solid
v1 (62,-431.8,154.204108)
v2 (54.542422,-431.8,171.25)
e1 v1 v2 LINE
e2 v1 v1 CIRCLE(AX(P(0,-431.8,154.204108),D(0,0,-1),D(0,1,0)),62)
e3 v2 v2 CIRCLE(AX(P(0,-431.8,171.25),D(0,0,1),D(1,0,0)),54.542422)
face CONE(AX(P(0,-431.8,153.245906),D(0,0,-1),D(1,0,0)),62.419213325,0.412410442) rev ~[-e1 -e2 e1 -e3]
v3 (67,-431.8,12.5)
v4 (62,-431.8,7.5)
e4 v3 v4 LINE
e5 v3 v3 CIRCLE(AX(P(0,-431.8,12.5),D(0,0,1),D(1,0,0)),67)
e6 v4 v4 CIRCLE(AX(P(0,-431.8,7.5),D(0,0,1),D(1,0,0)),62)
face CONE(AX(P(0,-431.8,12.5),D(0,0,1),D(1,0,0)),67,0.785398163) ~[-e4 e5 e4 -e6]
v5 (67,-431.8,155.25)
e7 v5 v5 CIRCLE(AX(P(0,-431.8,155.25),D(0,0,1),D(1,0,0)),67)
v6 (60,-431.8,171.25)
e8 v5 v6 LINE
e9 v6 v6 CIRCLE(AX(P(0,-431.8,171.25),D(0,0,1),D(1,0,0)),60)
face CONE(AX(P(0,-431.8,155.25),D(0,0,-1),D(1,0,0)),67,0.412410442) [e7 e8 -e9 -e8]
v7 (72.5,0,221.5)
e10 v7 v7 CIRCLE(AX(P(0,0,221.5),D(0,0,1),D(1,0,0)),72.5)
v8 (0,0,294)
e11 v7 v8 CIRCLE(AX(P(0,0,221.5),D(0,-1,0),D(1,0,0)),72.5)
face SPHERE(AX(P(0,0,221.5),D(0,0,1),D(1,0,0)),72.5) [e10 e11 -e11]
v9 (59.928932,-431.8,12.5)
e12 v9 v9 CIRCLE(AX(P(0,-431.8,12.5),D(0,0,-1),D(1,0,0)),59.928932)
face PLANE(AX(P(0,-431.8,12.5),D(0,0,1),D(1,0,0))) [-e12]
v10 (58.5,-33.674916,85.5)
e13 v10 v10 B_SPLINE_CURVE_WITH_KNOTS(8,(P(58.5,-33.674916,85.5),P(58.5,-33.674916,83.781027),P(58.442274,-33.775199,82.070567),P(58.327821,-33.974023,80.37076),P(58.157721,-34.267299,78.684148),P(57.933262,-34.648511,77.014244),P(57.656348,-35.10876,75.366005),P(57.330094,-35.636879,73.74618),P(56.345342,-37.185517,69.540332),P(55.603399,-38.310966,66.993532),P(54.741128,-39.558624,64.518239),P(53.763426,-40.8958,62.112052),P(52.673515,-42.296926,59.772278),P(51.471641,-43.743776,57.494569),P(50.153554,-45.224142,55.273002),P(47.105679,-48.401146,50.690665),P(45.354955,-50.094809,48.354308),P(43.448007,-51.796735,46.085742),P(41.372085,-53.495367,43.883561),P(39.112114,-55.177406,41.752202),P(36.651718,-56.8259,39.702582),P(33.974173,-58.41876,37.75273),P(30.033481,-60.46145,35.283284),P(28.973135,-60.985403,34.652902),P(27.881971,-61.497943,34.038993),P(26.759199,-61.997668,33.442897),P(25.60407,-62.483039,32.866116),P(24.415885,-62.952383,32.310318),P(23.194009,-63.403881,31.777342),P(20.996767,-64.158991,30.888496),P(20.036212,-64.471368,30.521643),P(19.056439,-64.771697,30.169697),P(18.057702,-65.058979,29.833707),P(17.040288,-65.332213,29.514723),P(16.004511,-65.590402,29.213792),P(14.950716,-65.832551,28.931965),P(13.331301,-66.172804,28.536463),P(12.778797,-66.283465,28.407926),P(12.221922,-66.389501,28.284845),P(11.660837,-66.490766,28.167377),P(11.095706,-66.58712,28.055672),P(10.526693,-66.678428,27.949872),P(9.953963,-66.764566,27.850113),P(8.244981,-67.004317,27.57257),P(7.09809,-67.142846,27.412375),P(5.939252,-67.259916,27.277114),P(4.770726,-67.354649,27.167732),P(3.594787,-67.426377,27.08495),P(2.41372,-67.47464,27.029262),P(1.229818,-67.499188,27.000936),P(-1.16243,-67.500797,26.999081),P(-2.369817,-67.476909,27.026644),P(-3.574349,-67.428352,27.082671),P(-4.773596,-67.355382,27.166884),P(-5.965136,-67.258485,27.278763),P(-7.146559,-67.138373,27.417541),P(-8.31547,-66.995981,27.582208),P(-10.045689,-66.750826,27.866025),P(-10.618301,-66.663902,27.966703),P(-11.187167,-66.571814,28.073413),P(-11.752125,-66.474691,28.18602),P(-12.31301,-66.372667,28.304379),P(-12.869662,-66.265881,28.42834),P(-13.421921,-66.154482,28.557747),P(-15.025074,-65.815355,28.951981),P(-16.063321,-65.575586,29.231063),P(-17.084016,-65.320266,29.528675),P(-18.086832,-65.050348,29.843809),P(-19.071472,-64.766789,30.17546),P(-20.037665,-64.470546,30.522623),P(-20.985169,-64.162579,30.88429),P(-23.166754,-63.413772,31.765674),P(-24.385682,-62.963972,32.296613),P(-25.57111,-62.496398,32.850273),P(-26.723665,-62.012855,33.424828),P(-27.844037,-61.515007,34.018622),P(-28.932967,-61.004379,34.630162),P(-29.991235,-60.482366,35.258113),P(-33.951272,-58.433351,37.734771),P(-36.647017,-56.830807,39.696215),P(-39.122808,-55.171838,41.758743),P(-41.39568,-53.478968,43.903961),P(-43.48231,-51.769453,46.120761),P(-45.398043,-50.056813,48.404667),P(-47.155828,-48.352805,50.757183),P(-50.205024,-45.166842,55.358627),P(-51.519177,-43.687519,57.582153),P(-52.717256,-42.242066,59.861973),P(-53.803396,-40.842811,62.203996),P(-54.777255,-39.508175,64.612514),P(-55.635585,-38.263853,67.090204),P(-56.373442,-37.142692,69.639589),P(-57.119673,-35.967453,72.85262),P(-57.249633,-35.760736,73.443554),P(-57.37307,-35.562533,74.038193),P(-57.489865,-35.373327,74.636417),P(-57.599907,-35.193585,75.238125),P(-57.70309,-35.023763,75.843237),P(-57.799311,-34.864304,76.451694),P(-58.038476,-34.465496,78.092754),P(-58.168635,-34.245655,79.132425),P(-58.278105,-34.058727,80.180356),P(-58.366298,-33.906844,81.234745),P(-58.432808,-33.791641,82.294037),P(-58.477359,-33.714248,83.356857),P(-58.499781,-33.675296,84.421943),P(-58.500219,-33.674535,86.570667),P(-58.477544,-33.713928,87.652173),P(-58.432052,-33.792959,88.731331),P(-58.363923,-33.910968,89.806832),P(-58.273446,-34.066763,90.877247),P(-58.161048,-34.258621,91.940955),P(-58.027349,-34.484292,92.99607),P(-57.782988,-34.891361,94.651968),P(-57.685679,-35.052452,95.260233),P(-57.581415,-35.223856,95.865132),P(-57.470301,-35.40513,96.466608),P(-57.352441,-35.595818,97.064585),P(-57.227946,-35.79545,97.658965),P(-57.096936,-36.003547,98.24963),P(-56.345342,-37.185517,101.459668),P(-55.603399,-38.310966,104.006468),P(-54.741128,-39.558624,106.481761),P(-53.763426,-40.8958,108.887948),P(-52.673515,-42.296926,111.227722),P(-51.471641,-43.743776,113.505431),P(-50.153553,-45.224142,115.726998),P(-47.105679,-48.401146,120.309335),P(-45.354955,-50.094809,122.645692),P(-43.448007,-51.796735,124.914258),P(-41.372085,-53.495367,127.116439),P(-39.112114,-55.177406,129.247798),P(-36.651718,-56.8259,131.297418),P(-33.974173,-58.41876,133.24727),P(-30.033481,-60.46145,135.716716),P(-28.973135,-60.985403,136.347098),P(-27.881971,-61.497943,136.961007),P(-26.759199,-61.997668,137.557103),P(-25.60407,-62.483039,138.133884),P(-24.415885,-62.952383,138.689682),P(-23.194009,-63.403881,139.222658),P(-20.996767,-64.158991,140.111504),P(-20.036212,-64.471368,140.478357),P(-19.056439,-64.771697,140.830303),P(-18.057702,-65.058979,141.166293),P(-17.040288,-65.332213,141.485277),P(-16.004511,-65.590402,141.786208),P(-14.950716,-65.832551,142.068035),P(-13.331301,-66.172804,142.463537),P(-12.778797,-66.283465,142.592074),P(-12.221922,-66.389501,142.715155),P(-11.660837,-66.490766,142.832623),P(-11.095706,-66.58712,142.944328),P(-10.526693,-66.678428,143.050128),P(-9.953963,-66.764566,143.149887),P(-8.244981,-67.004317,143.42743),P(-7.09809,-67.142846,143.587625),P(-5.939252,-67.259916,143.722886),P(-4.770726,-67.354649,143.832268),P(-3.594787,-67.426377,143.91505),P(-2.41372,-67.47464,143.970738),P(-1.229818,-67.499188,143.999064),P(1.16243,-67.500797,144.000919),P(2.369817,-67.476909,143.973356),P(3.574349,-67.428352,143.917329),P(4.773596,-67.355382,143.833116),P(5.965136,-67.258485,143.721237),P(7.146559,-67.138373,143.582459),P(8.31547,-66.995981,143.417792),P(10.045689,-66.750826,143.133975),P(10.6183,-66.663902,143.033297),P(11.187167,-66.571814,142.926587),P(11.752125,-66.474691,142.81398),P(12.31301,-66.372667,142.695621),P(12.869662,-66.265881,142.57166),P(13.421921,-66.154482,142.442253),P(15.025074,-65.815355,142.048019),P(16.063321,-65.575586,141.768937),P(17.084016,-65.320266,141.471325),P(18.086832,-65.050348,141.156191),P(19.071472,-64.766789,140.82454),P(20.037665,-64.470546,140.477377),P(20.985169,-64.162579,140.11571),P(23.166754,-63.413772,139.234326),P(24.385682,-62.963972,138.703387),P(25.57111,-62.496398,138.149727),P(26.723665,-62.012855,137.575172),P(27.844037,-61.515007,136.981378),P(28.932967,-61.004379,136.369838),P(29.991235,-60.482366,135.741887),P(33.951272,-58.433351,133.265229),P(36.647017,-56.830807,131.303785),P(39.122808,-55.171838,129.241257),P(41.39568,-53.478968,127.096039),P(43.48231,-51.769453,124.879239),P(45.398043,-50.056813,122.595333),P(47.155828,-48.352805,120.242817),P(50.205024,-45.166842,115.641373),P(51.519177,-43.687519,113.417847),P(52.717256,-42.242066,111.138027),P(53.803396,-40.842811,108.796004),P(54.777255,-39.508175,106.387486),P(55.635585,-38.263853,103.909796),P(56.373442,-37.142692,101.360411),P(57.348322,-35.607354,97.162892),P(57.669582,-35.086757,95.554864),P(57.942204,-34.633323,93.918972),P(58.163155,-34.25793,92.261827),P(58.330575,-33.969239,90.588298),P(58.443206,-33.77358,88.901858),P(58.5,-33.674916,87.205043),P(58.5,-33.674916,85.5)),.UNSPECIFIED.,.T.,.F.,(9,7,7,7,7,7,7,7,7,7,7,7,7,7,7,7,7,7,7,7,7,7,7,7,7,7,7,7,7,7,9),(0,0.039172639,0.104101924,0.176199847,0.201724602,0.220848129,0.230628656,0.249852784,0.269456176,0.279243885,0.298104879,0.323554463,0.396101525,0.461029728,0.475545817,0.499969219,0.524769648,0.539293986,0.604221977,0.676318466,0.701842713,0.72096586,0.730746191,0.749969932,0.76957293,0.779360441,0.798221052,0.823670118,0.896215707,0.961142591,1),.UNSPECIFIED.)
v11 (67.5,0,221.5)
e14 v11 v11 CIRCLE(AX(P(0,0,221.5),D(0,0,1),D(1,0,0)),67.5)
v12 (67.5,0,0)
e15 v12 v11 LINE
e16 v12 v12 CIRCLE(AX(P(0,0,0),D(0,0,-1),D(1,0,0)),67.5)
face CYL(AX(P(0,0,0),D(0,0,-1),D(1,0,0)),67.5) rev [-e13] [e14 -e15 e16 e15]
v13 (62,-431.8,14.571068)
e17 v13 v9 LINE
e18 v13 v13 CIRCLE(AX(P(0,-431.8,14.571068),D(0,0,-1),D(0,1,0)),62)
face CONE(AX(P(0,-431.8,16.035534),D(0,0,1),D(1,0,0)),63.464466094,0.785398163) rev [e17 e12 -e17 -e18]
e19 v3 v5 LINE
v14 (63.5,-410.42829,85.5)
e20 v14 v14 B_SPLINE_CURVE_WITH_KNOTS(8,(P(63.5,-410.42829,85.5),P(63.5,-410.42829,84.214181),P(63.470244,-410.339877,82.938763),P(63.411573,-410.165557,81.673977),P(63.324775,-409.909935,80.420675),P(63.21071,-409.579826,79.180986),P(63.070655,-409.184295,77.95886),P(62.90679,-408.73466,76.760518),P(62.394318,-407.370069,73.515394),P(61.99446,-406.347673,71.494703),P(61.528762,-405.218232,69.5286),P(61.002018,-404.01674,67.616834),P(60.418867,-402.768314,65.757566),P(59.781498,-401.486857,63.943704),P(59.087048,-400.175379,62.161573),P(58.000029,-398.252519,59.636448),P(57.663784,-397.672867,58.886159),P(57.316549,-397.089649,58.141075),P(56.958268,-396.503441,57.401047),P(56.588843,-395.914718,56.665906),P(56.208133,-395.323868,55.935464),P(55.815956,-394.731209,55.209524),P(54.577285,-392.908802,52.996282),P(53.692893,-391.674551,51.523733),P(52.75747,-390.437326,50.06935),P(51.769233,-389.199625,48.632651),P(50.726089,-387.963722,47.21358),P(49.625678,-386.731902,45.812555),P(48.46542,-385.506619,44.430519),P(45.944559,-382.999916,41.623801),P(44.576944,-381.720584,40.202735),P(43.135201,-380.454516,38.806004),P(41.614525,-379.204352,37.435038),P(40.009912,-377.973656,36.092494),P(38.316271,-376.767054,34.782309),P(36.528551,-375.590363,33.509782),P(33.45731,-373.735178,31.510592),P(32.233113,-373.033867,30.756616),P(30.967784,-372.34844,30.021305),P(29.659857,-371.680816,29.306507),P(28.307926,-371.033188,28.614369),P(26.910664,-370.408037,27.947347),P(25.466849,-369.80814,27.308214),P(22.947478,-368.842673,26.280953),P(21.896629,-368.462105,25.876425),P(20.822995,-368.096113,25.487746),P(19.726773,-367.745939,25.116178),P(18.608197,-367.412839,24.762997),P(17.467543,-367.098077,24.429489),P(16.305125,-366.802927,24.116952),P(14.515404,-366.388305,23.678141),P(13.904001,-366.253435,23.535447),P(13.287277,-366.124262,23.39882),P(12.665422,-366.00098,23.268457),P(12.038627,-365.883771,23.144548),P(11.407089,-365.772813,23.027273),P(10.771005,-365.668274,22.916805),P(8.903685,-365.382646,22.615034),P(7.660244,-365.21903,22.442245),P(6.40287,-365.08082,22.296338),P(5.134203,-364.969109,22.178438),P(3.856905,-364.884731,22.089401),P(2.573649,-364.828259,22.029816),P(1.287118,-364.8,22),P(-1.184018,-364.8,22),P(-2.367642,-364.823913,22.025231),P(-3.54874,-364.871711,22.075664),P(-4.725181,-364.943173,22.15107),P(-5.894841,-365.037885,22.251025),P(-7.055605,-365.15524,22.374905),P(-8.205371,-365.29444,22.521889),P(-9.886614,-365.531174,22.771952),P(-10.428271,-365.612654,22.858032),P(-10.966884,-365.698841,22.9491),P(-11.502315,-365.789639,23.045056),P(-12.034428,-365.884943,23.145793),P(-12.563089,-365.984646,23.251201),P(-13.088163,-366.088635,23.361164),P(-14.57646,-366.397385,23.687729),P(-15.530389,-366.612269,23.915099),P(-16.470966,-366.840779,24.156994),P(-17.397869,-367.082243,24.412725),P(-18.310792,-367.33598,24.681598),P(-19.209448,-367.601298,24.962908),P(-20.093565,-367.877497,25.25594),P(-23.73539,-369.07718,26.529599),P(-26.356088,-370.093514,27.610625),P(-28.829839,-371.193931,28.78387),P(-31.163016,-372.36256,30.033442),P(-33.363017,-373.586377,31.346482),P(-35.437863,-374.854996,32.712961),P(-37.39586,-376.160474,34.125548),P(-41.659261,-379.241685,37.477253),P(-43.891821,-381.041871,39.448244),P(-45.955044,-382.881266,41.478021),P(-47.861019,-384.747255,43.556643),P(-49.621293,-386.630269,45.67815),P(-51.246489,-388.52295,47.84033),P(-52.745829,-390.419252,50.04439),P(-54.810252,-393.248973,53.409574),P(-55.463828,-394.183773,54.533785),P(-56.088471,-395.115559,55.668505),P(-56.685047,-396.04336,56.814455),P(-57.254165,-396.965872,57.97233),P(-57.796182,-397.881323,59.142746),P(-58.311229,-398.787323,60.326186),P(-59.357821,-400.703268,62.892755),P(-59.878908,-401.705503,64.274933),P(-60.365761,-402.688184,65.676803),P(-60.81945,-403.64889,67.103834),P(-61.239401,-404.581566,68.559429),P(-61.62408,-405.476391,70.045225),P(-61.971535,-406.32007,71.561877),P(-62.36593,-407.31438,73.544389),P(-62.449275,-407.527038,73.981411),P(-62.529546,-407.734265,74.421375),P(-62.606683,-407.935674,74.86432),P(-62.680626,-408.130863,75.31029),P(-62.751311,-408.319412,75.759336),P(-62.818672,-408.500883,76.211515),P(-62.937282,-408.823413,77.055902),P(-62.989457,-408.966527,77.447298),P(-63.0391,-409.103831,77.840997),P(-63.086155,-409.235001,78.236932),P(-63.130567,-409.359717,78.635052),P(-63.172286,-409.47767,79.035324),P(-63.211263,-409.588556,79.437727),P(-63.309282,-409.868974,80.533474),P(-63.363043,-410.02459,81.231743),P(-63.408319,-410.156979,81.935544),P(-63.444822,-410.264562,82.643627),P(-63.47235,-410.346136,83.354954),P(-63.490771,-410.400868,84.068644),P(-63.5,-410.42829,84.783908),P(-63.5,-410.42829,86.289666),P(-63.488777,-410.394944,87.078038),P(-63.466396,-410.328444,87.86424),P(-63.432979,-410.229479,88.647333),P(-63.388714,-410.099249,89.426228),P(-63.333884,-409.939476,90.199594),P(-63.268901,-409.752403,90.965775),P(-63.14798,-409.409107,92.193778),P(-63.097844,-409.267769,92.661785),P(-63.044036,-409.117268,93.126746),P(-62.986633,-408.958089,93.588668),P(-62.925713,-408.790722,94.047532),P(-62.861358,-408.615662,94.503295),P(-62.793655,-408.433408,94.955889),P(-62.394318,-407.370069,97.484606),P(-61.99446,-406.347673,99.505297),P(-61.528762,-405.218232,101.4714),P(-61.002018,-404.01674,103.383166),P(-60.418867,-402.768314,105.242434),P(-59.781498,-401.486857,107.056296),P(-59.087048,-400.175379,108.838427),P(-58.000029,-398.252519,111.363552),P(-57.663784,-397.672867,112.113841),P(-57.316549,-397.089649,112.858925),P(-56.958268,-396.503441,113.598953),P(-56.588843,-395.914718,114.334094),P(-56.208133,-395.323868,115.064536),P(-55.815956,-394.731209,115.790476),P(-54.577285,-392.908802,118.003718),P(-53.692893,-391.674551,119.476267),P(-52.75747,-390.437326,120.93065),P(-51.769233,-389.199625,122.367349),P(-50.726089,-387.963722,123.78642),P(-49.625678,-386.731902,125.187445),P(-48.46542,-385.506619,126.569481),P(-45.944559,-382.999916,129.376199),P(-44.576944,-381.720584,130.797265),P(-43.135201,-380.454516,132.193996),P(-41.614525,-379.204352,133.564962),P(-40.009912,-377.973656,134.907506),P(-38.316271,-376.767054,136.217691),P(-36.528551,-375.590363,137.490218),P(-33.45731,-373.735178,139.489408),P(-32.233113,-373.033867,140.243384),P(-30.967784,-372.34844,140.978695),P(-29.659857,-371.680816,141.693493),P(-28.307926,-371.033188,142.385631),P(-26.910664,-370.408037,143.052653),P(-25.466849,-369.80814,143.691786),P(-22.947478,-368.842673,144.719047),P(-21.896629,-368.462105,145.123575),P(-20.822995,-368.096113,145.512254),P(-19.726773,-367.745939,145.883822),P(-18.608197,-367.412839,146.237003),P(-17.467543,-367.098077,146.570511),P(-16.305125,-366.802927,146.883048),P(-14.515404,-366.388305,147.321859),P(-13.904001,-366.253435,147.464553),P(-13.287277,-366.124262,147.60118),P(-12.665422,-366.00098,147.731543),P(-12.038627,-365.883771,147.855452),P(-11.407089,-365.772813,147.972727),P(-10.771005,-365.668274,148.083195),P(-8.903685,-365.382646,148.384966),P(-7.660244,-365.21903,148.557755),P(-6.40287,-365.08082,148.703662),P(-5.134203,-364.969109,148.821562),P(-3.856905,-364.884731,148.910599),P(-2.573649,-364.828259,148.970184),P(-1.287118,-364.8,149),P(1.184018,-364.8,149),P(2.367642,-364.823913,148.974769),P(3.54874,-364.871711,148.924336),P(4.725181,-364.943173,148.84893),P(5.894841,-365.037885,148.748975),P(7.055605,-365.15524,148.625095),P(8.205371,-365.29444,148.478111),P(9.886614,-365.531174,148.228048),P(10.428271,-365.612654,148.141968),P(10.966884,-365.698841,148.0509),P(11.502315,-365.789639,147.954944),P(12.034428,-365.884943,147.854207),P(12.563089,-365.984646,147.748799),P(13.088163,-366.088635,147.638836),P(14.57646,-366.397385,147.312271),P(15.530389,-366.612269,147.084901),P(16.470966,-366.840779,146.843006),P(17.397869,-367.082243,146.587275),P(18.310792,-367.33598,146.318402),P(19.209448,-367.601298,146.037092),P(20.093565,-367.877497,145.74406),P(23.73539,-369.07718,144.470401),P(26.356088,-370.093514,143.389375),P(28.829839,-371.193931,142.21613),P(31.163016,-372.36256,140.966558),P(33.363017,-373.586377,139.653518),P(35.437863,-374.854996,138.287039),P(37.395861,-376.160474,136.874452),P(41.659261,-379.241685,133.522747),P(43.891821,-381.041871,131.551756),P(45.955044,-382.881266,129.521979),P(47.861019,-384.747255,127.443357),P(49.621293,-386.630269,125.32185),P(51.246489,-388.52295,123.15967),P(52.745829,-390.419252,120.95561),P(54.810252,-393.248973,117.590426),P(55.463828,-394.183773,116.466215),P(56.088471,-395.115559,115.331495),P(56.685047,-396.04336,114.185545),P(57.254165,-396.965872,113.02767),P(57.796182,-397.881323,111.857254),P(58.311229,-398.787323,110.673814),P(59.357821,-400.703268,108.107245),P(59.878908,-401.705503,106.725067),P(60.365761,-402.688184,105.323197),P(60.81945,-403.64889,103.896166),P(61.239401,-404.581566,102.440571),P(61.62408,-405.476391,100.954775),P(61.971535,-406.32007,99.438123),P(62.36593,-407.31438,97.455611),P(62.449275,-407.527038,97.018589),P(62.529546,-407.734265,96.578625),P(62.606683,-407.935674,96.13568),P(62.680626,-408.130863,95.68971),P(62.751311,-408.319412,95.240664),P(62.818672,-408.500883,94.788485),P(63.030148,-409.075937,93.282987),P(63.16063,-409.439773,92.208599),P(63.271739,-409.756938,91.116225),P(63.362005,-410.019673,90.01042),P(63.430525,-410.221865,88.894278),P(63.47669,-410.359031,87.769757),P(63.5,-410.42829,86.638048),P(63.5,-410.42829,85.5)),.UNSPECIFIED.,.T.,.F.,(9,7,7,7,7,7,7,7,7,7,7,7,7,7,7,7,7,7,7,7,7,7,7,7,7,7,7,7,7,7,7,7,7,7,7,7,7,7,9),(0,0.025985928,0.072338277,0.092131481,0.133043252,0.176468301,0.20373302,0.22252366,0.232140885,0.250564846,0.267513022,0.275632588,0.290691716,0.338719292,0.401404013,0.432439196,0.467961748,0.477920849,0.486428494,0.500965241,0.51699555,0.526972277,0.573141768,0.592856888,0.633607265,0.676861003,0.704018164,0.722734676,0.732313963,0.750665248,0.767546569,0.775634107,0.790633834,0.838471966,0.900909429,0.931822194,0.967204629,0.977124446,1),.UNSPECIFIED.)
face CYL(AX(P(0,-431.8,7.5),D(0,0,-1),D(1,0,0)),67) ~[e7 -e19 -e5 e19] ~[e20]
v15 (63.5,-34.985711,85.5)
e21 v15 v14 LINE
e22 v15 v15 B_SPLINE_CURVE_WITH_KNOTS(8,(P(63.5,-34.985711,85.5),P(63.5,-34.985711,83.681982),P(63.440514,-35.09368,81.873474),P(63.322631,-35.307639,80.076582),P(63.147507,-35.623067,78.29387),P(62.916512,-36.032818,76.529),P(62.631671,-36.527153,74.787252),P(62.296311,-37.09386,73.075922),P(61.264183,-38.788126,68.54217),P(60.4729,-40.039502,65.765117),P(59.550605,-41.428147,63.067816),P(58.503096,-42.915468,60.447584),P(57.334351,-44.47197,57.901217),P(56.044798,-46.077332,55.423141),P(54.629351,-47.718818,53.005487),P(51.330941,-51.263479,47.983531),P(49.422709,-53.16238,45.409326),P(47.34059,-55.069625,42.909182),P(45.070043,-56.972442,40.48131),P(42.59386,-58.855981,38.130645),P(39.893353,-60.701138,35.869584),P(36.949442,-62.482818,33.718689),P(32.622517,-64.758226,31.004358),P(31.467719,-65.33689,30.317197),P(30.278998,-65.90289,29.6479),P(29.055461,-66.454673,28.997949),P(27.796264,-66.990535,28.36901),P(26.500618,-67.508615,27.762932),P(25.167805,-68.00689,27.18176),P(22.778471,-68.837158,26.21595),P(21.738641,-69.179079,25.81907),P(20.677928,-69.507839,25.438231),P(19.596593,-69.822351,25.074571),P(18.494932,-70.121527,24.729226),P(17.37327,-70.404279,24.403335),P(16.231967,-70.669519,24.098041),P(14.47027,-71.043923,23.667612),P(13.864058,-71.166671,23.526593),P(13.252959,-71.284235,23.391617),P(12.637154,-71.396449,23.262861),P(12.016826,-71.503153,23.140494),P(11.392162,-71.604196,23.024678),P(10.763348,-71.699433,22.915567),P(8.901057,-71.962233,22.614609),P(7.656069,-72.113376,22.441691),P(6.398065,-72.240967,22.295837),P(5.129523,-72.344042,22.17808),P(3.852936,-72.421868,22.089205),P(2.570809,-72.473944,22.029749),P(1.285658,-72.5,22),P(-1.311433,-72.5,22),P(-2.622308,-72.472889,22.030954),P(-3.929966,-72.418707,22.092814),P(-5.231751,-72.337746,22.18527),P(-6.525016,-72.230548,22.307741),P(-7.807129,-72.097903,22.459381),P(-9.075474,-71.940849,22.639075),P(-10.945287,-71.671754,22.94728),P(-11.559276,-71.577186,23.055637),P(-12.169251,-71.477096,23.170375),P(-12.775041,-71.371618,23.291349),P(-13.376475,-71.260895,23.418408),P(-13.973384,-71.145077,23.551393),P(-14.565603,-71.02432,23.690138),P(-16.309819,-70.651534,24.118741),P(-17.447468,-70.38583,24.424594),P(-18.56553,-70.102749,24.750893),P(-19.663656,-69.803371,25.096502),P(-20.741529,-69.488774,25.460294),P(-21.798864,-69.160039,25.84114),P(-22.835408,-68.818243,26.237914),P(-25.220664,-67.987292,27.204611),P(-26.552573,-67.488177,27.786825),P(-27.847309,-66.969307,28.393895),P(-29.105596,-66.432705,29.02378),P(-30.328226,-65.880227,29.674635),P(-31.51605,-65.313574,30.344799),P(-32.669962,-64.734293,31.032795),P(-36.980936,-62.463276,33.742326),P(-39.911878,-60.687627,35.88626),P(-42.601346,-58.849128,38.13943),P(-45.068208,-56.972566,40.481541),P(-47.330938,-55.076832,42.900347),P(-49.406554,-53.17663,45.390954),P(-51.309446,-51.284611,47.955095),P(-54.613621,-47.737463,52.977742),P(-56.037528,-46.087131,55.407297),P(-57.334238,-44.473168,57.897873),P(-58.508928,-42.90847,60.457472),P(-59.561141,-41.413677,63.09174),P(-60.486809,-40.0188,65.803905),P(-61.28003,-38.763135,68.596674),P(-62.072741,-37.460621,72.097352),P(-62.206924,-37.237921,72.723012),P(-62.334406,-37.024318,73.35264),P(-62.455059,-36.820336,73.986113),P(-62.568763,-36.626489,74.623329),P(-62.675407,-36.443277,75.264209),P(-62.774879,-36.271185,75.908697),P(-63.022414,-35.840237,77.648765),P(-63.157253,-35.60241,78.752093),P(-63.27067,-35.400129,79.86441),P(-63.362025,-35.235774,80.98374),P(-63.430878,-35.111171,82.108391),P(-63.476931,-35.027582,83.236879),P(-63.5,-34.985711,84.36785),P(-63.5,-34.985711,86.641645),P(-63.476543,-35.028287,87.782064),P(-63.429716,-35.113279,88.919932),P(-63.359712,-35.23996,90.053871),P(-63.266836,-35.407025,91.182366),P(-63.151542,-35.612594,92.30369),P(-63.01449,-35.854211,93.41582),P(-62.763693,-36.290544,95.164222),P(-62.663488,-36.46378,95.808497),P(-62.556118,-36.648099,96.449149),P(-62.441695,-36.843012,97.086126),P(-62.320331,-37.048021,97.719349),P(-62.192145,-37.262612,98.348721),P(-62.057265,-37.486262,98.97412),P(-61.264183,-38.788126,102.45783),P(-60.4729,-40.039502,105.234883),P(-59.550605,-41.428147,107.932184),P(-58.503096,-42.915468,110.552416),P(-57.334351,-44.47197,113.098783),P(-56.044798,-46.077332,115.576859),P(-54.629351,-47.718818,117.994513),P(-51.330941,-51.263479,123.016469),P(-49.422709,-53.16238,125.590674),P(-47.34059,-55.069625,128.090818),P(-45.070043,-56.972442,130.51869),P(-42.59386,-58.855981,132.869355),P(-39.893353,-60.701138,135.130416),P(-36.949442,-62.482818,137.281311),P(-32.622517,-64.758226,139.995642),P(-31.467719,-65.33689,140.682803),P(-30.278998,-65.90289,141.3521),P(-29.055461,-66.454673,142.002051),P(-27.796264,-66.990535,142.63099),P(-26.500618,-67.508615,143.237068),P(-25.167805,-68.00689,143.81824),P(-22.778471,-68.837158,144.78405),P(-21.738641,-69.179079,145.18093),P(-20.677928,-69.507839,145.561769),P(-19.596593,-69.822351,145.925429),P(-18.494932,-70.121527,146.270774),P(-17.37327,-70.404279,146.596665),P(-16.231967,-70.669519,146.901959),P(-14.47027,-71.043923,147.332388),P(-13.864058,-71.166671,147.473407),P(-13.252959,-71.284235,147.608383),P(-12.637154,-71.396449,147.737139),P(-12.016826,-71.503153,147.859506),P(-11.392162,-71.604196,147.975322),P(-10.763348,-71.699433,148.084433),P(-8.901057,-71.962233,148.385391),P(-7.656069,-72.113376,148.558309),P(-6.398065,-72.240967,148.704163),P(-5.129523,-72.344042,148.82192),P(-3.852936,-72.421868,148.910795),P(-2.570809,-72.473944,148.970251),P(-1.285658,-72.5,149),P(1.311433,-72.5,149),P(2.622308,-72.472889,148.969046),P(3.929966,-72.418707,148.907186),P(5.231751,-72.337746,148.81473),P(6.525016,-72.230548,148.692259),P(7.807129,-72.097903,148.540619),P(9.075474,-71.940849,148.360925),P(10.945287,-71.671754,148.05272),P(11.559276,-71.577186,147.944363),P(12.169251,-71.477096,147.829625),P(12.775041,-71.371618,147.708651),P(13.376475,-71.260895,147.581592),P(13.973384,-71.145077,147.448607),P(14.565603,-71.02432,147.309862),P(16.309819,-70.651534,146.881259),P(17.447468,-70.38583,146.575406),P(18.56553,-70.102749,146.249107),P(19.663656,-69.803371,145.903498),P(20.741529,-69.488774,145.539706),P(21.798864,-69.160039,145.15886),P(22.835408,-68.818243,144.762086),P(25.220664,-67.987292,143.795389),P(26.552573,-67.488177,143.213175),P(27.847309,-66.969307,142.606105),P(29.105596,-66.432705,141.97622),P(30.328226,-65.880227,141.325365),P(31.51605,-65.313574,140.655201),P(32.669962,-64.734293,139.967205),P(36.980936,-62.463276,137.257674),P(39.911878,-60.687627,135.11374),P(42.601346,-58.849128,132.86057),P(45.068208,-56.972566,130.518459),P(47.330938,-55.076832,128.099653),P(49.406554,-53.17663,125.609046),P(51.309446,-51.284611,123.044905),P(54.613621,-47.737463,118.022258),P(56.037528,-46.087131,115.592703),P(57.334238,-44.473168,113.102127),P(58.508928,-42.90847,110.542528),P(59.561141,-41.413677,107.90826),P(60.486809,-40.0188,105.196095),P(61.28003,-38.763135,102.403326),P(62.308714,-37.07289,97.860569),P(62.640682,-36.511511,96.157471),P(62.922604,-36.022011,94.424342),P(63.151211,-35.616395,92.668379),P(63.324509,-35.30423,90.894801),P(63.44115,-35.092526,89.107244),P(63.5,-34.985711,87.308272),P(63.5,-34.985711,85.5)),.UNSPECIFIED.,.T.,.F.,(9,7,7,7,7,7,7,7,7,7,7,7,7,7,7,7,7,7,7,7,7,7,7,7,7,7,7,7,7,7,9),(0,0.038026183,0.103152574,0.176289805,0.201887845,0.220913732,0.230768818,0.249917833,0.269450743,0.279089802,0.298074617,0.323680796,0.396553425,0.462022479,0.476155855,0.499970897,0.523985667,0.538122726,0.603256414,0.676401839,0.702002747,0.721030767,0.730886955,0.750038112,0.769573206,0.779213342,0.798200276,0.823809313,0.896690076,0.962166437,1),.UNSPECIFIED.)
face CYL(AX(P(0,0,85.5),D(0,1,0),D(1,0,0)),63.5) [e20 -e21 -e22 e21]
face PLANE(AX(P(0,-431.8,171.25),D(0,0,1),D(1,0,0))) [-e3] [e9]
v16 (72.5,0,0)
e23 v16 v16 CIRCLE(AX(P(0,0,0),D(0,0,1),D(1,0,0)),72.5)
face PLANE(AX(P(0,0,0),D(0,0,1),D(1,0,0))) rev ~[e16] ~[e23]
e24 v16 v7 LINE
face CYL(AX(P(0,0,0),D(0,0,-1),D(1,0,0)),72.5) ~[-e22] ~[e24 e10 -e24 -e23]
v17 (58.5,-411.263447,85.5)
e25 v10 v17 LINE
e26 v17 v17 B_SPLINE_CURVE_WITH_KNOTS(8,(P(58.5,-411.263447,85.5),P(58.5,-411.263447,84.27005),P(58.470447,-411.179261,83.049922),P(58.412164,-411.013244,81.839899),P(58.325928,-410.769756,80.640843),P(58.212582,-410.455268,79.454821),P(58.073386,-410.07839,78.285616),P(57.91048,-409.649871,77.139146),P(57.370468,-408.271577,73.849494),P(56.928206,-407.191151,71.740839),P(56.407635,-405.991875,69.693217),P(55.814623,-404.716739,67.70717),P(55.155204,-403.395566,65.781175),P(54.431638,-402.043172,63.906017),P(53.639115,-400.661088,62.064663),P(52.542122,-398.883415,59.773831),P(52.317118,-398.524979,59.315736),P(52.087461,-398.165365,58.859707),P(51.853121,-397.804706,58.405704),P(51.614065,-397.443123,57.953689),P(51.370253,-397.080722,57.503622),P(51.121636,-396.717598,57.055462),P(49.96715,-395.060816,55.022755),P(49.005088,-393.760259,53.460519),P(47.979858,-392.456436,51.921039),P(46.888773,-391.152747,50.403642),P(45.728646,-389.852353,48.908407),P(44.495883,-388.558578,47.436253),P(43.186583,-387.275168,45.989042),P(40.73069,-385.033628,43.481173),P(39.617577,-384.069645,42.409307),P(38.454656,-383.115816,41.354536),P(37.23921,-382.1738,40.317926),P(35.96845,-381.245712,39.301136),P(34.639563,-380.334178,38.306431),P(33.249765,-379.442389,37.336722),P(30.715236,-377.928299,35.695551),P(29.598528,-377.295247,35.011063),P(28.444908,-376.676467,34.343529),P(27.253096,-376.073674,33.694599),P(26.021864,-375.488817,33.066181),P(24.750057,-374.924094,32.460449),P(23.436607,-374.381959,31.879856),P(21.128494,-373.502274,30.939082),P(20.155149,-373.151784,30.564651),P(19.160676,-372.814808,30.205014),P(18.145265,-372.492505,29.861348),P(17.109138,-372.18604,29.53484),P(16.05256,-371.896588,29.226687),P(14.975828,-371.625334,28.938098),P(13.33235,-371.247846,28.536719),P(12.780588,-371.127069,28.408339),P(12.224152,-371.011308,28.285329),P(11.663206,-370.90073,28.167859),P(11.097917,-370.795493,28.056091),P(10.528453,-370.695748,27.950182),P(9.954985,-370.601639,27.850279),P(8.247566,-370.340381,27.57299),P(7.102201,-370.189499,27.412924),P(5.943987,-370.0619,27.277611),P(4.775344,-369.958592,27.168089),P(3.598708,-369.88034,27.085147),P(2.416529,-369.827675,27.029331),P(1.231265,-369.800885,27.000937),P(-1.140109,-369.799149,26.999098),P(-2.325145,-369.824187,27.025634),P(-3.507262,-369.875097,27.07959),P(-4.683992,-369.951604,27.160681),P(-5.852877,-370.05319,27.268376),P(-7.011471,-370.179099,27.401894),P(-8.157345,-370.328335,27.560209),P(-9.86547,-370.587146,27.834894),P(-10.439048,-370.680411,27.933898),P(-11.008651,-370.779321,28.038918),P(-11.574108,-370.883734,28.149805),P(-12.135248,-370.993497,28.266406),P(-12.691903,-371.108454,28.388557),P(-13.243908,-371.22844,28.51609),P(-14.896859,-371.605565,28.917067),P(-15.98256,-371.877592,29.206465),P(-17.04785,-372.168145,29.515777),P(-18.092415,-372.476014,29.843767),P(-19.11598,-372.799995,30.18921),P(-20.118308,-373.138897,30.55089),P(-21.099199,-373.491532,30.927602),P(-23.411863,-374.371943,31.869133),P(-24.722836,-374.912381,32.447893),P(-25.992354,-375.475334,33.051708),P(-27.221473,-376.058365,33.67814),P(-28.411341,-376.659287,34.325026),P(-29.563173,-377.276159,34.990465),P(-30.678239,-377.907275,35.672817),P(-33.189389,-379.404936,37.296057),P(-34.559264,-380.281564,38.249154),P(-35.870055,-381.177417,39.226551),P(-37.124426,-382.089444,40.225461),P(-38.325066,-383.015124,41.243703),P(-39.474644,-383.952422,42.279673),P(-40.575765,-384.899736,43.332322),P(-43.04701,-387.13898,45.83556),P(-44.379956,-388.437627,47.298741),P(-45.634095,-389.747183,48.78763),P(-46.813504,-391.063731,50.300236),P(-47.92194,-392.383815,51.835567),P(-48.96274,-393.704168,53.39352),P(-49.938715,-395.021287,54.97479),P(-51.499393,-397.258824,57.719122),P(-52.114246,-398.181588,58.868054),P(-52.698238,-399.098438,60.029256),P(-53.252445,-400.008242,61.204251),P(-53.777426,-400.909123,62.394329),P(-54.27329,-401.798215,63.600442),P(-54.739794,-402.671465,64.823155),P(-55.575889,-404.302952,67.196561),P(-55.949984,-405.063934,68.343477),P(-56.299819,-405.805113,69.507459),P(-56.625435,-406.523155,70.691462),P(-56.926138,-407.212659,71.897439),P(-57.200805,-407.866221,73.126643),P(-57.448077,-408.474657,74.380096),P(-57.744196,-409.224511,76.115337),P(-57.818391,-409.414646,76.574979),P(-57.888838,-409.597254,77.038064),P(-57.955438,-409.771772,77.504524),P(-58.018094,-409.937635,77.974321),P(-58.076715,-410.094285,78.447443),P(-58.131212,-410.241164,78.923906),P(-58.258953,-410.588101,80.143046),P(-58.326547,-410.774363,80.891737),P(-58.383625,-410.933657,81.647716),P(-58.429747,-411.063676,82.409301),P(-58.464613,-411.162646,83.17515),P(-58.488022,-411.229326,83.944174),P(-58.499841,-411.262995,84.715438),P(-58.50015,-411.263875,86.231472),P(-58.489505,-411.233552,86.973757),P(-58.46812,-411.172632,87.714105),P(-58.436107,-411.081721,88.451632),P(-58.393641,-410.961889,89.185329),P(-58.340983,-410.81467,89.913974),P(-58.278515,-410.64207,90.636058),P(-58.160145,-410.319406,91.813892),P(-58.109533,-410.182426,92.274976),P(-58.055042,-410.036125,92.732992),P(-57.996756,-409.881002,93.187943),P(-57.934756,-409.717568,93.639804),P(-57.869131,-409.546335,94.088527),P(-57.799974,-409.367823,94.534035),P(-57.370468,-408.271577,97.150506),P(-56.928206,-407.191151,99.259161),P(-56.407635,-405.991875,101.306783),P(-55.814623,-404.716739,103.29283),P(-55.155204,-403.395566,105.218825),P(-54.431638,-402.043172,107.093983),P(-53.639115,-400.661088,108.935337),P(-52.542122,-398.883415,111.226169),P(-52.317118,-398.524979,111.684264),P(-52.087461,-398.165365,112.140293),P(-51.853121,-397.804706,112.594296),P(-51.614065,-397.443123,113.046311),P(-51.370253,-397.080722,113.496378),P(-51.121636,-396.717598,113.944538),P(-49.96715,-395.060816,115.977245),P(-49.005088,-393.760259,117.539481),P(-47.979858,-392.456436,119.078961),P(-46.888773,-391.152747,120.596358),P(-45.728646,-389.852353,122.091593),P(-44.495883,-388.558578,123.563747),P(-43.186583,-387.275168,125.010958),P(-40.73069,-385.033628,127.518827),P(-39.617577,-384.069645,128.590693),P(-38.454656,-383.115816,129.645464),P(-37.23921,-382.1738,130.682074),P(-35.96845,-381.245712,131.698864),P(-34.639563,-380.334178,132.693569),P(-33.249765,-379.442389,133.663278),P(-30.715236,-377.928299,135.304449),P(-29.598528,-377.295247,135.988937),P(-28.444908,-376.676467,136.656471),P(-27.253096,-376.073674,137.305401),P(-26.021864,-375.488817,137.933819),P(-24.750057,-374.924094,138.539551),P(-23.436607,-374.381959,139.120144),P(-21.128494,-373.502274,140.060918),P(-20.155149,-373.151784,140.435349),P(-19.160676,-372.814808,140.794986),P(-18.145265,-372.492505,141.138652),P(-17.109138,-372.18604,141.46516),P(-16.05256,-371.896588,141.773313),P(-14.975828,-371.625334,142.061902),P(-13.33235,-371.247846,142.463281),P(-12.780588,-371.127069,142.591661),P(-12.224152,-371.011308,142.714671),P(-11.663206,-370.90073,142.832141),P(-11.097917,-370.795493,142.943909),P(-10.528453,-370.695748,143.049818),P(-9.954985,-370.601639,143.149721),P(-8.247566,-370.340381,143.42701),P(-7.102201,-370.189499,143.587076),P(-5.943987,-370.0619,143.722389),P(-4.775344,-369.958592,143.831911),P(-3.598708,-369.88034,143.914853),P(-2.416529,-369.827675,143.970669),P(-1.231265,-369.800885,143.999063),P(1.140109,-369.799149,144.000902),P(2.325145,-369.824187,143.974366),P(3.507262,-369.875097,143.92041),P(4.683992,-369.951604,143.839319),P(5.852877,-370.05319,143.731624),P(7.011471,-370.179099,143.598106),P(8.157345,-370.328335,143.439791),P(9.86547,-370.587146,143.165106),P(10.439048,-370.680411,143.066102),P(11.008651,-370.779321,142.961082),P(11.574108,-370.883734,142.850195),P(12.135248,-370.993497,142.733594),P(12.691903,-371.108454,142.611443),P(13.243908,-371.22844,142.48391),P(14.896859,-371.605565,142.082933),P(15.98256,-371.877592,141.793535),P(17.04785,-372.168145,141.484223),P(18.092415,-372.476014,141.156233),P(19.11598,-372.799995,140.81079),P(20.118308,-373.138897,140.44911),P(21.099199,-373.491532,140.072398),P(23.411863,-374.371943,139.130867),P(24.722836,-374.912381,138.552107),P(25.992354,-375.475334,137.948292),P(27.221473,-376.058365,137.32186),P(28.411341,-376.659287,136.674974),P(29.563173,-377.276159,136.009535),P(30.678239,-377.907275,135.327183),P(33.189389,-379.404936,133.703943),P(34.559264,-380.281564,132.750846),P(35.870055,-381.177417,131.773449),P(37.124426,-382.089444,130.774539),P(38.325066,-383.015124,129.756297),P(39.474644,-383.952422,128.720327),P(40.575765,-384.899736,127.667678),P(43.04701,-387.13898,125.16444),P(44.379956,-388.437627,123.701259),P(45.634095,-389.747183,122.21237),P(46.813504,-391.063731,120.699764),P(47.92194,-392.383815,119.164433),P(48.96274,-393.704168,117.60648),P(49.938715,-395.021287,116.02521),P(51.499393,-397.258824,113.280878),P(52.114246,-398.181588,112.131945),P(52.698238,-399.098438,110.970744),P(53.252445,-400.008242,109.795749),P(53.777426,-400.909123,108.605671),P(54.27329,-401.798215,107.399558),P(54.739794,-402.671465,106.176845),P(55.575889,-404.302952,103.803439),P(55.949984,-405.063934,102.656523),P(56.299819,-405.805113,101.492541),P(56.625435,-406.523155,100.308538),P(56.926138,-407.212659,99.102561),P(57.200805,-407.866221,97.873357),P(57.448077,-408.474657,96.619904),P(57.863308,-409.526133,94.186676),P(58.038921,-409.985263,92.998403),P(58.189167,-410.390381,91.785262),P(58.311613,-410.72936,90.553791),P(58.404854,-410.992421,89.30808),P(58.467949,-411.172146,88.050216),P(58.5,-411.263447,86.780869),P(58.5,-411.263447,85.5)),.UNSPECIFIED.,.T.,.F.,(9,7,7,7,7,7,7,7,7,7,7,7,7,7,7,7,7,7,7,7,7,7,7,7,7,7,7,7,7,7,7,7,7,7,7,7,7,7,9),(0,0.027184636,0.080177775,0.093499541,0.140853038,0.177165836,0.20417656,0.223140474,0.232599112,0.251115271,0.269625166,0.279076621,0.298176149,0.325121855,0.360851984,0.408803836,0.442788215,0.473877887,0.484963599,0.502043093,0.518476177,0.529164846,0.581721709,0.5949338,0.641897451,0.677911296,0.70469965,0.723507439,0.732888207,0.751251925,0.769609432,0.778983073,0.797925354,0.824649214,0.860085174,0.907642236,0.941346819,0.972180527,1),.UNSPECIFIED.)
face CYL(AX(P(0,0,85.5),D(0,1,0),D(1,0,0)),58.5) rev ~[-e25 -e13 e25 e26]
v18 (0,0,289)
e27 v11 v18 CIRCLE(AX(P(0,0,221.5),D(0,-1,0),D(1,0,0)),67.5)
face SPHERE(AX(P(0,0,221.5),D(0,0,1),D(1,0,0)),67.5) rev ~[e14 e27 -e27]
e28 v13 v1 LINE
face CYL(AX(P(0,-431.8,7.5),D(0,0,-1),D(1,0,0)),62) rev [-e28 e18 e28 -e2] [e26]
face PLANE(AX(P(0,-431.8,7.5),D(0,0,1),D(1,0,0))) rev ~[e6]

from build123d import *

# Parameters (mm, degrees)
SKETCH1_R                = 72.5
BOSS_EXTRUDE1_DEPTH      = 294
FILLET1_R                = 72.5
SKETCH2_R                = 63.5
BOSS_EXTRUDE2_DEPTH      = 431.8
BOSS_EXTRUDE3_DEPTH      = 85.75
BOSS_EXTRUDE3_DEPTH_BACK = 78
SKETCH3_R                = 67
CHAMFER1_SIZE            = 5
CHAMFER2_SIZE            = 16
CHAMFER2_SIZE2           = 7
SHELL1_T                 = -5


with BuildPart() as part:
    # Sketch1 → Boss-Extrude1 (new body)
    with BuildSketch(Plane.XY):
        Circle(SKETCH1_R)
    extrude(amount=BOSS_EXTRUDE1_DEPTH)

    # Fillet1
    fillet1_edges = [part.edges().sort_by_distance(p)[0] for p in [
        (-72.5, 0, 294),
    ]]
    fillet(fillet1_edges, radius=FILLET1_R)

    # Sketch2 → Boss-Extrude2 (add)
    with BuildSketch(Plane(origin=(0, 0, 0), x_dir=(1, 0, 0), z_dir=(0, 1, 0))):
        with Locations((0, -85.5)):
            Circle(SKETCH2_R)
    extrude(amount=-BOSS_EXTRUDE2_DEPTH)

    # Sketch3 → Boss-Extrude3 (add, two sides: drawn at the far end of the back side and taken through both)
    with BuildSketch(Plane.XY.offset(85.5).offset(-BOSS_EXTRUDE3_DEPTH_BACK)):
        with Locations((0, -431.8)):
            Circle(SKETCH3_R)
    extrude(amount=BOSS_EXTRUDE3_DEPTH + BOSS_EXTRUDE3_DEPTH_BACK)

    # Chamfer1
    chamfer1_edges = [part.edges().sort_by_distance(p)[0] for p in [
        (-67, -431.8, 7.5),
    ]]
    chamfer(chamfer1_edges, length=CHAMFER1_SIZE)

    # Chamfer2
    chamfer2_edges = [part.edges().sort_by_distance(p)[0] for p in [
        (-67, -431.8, 171.25),
    ]]
    chamfer2_side = [part.faces().sort_by_distance(p)[0] for p in [
        (-67, -431.8, 91.875),
    ]]
    chamfer(chamfer2_edges, length=CHAMFER2_SIZE, length2=CHAMFER2_SIZE2, reference=chamfer2_side[0])

    # Shell1
    shell1_openings = [part.faces().sort_by_distance(p)[0] for p in [
        (0, -431.8, 171.25),
        (0, 0, 0),
    ]]
    offset(amount=SHELL1_T, openings=shell1_openings, kind=Kind.INTERSECTION)


solid = part.part
